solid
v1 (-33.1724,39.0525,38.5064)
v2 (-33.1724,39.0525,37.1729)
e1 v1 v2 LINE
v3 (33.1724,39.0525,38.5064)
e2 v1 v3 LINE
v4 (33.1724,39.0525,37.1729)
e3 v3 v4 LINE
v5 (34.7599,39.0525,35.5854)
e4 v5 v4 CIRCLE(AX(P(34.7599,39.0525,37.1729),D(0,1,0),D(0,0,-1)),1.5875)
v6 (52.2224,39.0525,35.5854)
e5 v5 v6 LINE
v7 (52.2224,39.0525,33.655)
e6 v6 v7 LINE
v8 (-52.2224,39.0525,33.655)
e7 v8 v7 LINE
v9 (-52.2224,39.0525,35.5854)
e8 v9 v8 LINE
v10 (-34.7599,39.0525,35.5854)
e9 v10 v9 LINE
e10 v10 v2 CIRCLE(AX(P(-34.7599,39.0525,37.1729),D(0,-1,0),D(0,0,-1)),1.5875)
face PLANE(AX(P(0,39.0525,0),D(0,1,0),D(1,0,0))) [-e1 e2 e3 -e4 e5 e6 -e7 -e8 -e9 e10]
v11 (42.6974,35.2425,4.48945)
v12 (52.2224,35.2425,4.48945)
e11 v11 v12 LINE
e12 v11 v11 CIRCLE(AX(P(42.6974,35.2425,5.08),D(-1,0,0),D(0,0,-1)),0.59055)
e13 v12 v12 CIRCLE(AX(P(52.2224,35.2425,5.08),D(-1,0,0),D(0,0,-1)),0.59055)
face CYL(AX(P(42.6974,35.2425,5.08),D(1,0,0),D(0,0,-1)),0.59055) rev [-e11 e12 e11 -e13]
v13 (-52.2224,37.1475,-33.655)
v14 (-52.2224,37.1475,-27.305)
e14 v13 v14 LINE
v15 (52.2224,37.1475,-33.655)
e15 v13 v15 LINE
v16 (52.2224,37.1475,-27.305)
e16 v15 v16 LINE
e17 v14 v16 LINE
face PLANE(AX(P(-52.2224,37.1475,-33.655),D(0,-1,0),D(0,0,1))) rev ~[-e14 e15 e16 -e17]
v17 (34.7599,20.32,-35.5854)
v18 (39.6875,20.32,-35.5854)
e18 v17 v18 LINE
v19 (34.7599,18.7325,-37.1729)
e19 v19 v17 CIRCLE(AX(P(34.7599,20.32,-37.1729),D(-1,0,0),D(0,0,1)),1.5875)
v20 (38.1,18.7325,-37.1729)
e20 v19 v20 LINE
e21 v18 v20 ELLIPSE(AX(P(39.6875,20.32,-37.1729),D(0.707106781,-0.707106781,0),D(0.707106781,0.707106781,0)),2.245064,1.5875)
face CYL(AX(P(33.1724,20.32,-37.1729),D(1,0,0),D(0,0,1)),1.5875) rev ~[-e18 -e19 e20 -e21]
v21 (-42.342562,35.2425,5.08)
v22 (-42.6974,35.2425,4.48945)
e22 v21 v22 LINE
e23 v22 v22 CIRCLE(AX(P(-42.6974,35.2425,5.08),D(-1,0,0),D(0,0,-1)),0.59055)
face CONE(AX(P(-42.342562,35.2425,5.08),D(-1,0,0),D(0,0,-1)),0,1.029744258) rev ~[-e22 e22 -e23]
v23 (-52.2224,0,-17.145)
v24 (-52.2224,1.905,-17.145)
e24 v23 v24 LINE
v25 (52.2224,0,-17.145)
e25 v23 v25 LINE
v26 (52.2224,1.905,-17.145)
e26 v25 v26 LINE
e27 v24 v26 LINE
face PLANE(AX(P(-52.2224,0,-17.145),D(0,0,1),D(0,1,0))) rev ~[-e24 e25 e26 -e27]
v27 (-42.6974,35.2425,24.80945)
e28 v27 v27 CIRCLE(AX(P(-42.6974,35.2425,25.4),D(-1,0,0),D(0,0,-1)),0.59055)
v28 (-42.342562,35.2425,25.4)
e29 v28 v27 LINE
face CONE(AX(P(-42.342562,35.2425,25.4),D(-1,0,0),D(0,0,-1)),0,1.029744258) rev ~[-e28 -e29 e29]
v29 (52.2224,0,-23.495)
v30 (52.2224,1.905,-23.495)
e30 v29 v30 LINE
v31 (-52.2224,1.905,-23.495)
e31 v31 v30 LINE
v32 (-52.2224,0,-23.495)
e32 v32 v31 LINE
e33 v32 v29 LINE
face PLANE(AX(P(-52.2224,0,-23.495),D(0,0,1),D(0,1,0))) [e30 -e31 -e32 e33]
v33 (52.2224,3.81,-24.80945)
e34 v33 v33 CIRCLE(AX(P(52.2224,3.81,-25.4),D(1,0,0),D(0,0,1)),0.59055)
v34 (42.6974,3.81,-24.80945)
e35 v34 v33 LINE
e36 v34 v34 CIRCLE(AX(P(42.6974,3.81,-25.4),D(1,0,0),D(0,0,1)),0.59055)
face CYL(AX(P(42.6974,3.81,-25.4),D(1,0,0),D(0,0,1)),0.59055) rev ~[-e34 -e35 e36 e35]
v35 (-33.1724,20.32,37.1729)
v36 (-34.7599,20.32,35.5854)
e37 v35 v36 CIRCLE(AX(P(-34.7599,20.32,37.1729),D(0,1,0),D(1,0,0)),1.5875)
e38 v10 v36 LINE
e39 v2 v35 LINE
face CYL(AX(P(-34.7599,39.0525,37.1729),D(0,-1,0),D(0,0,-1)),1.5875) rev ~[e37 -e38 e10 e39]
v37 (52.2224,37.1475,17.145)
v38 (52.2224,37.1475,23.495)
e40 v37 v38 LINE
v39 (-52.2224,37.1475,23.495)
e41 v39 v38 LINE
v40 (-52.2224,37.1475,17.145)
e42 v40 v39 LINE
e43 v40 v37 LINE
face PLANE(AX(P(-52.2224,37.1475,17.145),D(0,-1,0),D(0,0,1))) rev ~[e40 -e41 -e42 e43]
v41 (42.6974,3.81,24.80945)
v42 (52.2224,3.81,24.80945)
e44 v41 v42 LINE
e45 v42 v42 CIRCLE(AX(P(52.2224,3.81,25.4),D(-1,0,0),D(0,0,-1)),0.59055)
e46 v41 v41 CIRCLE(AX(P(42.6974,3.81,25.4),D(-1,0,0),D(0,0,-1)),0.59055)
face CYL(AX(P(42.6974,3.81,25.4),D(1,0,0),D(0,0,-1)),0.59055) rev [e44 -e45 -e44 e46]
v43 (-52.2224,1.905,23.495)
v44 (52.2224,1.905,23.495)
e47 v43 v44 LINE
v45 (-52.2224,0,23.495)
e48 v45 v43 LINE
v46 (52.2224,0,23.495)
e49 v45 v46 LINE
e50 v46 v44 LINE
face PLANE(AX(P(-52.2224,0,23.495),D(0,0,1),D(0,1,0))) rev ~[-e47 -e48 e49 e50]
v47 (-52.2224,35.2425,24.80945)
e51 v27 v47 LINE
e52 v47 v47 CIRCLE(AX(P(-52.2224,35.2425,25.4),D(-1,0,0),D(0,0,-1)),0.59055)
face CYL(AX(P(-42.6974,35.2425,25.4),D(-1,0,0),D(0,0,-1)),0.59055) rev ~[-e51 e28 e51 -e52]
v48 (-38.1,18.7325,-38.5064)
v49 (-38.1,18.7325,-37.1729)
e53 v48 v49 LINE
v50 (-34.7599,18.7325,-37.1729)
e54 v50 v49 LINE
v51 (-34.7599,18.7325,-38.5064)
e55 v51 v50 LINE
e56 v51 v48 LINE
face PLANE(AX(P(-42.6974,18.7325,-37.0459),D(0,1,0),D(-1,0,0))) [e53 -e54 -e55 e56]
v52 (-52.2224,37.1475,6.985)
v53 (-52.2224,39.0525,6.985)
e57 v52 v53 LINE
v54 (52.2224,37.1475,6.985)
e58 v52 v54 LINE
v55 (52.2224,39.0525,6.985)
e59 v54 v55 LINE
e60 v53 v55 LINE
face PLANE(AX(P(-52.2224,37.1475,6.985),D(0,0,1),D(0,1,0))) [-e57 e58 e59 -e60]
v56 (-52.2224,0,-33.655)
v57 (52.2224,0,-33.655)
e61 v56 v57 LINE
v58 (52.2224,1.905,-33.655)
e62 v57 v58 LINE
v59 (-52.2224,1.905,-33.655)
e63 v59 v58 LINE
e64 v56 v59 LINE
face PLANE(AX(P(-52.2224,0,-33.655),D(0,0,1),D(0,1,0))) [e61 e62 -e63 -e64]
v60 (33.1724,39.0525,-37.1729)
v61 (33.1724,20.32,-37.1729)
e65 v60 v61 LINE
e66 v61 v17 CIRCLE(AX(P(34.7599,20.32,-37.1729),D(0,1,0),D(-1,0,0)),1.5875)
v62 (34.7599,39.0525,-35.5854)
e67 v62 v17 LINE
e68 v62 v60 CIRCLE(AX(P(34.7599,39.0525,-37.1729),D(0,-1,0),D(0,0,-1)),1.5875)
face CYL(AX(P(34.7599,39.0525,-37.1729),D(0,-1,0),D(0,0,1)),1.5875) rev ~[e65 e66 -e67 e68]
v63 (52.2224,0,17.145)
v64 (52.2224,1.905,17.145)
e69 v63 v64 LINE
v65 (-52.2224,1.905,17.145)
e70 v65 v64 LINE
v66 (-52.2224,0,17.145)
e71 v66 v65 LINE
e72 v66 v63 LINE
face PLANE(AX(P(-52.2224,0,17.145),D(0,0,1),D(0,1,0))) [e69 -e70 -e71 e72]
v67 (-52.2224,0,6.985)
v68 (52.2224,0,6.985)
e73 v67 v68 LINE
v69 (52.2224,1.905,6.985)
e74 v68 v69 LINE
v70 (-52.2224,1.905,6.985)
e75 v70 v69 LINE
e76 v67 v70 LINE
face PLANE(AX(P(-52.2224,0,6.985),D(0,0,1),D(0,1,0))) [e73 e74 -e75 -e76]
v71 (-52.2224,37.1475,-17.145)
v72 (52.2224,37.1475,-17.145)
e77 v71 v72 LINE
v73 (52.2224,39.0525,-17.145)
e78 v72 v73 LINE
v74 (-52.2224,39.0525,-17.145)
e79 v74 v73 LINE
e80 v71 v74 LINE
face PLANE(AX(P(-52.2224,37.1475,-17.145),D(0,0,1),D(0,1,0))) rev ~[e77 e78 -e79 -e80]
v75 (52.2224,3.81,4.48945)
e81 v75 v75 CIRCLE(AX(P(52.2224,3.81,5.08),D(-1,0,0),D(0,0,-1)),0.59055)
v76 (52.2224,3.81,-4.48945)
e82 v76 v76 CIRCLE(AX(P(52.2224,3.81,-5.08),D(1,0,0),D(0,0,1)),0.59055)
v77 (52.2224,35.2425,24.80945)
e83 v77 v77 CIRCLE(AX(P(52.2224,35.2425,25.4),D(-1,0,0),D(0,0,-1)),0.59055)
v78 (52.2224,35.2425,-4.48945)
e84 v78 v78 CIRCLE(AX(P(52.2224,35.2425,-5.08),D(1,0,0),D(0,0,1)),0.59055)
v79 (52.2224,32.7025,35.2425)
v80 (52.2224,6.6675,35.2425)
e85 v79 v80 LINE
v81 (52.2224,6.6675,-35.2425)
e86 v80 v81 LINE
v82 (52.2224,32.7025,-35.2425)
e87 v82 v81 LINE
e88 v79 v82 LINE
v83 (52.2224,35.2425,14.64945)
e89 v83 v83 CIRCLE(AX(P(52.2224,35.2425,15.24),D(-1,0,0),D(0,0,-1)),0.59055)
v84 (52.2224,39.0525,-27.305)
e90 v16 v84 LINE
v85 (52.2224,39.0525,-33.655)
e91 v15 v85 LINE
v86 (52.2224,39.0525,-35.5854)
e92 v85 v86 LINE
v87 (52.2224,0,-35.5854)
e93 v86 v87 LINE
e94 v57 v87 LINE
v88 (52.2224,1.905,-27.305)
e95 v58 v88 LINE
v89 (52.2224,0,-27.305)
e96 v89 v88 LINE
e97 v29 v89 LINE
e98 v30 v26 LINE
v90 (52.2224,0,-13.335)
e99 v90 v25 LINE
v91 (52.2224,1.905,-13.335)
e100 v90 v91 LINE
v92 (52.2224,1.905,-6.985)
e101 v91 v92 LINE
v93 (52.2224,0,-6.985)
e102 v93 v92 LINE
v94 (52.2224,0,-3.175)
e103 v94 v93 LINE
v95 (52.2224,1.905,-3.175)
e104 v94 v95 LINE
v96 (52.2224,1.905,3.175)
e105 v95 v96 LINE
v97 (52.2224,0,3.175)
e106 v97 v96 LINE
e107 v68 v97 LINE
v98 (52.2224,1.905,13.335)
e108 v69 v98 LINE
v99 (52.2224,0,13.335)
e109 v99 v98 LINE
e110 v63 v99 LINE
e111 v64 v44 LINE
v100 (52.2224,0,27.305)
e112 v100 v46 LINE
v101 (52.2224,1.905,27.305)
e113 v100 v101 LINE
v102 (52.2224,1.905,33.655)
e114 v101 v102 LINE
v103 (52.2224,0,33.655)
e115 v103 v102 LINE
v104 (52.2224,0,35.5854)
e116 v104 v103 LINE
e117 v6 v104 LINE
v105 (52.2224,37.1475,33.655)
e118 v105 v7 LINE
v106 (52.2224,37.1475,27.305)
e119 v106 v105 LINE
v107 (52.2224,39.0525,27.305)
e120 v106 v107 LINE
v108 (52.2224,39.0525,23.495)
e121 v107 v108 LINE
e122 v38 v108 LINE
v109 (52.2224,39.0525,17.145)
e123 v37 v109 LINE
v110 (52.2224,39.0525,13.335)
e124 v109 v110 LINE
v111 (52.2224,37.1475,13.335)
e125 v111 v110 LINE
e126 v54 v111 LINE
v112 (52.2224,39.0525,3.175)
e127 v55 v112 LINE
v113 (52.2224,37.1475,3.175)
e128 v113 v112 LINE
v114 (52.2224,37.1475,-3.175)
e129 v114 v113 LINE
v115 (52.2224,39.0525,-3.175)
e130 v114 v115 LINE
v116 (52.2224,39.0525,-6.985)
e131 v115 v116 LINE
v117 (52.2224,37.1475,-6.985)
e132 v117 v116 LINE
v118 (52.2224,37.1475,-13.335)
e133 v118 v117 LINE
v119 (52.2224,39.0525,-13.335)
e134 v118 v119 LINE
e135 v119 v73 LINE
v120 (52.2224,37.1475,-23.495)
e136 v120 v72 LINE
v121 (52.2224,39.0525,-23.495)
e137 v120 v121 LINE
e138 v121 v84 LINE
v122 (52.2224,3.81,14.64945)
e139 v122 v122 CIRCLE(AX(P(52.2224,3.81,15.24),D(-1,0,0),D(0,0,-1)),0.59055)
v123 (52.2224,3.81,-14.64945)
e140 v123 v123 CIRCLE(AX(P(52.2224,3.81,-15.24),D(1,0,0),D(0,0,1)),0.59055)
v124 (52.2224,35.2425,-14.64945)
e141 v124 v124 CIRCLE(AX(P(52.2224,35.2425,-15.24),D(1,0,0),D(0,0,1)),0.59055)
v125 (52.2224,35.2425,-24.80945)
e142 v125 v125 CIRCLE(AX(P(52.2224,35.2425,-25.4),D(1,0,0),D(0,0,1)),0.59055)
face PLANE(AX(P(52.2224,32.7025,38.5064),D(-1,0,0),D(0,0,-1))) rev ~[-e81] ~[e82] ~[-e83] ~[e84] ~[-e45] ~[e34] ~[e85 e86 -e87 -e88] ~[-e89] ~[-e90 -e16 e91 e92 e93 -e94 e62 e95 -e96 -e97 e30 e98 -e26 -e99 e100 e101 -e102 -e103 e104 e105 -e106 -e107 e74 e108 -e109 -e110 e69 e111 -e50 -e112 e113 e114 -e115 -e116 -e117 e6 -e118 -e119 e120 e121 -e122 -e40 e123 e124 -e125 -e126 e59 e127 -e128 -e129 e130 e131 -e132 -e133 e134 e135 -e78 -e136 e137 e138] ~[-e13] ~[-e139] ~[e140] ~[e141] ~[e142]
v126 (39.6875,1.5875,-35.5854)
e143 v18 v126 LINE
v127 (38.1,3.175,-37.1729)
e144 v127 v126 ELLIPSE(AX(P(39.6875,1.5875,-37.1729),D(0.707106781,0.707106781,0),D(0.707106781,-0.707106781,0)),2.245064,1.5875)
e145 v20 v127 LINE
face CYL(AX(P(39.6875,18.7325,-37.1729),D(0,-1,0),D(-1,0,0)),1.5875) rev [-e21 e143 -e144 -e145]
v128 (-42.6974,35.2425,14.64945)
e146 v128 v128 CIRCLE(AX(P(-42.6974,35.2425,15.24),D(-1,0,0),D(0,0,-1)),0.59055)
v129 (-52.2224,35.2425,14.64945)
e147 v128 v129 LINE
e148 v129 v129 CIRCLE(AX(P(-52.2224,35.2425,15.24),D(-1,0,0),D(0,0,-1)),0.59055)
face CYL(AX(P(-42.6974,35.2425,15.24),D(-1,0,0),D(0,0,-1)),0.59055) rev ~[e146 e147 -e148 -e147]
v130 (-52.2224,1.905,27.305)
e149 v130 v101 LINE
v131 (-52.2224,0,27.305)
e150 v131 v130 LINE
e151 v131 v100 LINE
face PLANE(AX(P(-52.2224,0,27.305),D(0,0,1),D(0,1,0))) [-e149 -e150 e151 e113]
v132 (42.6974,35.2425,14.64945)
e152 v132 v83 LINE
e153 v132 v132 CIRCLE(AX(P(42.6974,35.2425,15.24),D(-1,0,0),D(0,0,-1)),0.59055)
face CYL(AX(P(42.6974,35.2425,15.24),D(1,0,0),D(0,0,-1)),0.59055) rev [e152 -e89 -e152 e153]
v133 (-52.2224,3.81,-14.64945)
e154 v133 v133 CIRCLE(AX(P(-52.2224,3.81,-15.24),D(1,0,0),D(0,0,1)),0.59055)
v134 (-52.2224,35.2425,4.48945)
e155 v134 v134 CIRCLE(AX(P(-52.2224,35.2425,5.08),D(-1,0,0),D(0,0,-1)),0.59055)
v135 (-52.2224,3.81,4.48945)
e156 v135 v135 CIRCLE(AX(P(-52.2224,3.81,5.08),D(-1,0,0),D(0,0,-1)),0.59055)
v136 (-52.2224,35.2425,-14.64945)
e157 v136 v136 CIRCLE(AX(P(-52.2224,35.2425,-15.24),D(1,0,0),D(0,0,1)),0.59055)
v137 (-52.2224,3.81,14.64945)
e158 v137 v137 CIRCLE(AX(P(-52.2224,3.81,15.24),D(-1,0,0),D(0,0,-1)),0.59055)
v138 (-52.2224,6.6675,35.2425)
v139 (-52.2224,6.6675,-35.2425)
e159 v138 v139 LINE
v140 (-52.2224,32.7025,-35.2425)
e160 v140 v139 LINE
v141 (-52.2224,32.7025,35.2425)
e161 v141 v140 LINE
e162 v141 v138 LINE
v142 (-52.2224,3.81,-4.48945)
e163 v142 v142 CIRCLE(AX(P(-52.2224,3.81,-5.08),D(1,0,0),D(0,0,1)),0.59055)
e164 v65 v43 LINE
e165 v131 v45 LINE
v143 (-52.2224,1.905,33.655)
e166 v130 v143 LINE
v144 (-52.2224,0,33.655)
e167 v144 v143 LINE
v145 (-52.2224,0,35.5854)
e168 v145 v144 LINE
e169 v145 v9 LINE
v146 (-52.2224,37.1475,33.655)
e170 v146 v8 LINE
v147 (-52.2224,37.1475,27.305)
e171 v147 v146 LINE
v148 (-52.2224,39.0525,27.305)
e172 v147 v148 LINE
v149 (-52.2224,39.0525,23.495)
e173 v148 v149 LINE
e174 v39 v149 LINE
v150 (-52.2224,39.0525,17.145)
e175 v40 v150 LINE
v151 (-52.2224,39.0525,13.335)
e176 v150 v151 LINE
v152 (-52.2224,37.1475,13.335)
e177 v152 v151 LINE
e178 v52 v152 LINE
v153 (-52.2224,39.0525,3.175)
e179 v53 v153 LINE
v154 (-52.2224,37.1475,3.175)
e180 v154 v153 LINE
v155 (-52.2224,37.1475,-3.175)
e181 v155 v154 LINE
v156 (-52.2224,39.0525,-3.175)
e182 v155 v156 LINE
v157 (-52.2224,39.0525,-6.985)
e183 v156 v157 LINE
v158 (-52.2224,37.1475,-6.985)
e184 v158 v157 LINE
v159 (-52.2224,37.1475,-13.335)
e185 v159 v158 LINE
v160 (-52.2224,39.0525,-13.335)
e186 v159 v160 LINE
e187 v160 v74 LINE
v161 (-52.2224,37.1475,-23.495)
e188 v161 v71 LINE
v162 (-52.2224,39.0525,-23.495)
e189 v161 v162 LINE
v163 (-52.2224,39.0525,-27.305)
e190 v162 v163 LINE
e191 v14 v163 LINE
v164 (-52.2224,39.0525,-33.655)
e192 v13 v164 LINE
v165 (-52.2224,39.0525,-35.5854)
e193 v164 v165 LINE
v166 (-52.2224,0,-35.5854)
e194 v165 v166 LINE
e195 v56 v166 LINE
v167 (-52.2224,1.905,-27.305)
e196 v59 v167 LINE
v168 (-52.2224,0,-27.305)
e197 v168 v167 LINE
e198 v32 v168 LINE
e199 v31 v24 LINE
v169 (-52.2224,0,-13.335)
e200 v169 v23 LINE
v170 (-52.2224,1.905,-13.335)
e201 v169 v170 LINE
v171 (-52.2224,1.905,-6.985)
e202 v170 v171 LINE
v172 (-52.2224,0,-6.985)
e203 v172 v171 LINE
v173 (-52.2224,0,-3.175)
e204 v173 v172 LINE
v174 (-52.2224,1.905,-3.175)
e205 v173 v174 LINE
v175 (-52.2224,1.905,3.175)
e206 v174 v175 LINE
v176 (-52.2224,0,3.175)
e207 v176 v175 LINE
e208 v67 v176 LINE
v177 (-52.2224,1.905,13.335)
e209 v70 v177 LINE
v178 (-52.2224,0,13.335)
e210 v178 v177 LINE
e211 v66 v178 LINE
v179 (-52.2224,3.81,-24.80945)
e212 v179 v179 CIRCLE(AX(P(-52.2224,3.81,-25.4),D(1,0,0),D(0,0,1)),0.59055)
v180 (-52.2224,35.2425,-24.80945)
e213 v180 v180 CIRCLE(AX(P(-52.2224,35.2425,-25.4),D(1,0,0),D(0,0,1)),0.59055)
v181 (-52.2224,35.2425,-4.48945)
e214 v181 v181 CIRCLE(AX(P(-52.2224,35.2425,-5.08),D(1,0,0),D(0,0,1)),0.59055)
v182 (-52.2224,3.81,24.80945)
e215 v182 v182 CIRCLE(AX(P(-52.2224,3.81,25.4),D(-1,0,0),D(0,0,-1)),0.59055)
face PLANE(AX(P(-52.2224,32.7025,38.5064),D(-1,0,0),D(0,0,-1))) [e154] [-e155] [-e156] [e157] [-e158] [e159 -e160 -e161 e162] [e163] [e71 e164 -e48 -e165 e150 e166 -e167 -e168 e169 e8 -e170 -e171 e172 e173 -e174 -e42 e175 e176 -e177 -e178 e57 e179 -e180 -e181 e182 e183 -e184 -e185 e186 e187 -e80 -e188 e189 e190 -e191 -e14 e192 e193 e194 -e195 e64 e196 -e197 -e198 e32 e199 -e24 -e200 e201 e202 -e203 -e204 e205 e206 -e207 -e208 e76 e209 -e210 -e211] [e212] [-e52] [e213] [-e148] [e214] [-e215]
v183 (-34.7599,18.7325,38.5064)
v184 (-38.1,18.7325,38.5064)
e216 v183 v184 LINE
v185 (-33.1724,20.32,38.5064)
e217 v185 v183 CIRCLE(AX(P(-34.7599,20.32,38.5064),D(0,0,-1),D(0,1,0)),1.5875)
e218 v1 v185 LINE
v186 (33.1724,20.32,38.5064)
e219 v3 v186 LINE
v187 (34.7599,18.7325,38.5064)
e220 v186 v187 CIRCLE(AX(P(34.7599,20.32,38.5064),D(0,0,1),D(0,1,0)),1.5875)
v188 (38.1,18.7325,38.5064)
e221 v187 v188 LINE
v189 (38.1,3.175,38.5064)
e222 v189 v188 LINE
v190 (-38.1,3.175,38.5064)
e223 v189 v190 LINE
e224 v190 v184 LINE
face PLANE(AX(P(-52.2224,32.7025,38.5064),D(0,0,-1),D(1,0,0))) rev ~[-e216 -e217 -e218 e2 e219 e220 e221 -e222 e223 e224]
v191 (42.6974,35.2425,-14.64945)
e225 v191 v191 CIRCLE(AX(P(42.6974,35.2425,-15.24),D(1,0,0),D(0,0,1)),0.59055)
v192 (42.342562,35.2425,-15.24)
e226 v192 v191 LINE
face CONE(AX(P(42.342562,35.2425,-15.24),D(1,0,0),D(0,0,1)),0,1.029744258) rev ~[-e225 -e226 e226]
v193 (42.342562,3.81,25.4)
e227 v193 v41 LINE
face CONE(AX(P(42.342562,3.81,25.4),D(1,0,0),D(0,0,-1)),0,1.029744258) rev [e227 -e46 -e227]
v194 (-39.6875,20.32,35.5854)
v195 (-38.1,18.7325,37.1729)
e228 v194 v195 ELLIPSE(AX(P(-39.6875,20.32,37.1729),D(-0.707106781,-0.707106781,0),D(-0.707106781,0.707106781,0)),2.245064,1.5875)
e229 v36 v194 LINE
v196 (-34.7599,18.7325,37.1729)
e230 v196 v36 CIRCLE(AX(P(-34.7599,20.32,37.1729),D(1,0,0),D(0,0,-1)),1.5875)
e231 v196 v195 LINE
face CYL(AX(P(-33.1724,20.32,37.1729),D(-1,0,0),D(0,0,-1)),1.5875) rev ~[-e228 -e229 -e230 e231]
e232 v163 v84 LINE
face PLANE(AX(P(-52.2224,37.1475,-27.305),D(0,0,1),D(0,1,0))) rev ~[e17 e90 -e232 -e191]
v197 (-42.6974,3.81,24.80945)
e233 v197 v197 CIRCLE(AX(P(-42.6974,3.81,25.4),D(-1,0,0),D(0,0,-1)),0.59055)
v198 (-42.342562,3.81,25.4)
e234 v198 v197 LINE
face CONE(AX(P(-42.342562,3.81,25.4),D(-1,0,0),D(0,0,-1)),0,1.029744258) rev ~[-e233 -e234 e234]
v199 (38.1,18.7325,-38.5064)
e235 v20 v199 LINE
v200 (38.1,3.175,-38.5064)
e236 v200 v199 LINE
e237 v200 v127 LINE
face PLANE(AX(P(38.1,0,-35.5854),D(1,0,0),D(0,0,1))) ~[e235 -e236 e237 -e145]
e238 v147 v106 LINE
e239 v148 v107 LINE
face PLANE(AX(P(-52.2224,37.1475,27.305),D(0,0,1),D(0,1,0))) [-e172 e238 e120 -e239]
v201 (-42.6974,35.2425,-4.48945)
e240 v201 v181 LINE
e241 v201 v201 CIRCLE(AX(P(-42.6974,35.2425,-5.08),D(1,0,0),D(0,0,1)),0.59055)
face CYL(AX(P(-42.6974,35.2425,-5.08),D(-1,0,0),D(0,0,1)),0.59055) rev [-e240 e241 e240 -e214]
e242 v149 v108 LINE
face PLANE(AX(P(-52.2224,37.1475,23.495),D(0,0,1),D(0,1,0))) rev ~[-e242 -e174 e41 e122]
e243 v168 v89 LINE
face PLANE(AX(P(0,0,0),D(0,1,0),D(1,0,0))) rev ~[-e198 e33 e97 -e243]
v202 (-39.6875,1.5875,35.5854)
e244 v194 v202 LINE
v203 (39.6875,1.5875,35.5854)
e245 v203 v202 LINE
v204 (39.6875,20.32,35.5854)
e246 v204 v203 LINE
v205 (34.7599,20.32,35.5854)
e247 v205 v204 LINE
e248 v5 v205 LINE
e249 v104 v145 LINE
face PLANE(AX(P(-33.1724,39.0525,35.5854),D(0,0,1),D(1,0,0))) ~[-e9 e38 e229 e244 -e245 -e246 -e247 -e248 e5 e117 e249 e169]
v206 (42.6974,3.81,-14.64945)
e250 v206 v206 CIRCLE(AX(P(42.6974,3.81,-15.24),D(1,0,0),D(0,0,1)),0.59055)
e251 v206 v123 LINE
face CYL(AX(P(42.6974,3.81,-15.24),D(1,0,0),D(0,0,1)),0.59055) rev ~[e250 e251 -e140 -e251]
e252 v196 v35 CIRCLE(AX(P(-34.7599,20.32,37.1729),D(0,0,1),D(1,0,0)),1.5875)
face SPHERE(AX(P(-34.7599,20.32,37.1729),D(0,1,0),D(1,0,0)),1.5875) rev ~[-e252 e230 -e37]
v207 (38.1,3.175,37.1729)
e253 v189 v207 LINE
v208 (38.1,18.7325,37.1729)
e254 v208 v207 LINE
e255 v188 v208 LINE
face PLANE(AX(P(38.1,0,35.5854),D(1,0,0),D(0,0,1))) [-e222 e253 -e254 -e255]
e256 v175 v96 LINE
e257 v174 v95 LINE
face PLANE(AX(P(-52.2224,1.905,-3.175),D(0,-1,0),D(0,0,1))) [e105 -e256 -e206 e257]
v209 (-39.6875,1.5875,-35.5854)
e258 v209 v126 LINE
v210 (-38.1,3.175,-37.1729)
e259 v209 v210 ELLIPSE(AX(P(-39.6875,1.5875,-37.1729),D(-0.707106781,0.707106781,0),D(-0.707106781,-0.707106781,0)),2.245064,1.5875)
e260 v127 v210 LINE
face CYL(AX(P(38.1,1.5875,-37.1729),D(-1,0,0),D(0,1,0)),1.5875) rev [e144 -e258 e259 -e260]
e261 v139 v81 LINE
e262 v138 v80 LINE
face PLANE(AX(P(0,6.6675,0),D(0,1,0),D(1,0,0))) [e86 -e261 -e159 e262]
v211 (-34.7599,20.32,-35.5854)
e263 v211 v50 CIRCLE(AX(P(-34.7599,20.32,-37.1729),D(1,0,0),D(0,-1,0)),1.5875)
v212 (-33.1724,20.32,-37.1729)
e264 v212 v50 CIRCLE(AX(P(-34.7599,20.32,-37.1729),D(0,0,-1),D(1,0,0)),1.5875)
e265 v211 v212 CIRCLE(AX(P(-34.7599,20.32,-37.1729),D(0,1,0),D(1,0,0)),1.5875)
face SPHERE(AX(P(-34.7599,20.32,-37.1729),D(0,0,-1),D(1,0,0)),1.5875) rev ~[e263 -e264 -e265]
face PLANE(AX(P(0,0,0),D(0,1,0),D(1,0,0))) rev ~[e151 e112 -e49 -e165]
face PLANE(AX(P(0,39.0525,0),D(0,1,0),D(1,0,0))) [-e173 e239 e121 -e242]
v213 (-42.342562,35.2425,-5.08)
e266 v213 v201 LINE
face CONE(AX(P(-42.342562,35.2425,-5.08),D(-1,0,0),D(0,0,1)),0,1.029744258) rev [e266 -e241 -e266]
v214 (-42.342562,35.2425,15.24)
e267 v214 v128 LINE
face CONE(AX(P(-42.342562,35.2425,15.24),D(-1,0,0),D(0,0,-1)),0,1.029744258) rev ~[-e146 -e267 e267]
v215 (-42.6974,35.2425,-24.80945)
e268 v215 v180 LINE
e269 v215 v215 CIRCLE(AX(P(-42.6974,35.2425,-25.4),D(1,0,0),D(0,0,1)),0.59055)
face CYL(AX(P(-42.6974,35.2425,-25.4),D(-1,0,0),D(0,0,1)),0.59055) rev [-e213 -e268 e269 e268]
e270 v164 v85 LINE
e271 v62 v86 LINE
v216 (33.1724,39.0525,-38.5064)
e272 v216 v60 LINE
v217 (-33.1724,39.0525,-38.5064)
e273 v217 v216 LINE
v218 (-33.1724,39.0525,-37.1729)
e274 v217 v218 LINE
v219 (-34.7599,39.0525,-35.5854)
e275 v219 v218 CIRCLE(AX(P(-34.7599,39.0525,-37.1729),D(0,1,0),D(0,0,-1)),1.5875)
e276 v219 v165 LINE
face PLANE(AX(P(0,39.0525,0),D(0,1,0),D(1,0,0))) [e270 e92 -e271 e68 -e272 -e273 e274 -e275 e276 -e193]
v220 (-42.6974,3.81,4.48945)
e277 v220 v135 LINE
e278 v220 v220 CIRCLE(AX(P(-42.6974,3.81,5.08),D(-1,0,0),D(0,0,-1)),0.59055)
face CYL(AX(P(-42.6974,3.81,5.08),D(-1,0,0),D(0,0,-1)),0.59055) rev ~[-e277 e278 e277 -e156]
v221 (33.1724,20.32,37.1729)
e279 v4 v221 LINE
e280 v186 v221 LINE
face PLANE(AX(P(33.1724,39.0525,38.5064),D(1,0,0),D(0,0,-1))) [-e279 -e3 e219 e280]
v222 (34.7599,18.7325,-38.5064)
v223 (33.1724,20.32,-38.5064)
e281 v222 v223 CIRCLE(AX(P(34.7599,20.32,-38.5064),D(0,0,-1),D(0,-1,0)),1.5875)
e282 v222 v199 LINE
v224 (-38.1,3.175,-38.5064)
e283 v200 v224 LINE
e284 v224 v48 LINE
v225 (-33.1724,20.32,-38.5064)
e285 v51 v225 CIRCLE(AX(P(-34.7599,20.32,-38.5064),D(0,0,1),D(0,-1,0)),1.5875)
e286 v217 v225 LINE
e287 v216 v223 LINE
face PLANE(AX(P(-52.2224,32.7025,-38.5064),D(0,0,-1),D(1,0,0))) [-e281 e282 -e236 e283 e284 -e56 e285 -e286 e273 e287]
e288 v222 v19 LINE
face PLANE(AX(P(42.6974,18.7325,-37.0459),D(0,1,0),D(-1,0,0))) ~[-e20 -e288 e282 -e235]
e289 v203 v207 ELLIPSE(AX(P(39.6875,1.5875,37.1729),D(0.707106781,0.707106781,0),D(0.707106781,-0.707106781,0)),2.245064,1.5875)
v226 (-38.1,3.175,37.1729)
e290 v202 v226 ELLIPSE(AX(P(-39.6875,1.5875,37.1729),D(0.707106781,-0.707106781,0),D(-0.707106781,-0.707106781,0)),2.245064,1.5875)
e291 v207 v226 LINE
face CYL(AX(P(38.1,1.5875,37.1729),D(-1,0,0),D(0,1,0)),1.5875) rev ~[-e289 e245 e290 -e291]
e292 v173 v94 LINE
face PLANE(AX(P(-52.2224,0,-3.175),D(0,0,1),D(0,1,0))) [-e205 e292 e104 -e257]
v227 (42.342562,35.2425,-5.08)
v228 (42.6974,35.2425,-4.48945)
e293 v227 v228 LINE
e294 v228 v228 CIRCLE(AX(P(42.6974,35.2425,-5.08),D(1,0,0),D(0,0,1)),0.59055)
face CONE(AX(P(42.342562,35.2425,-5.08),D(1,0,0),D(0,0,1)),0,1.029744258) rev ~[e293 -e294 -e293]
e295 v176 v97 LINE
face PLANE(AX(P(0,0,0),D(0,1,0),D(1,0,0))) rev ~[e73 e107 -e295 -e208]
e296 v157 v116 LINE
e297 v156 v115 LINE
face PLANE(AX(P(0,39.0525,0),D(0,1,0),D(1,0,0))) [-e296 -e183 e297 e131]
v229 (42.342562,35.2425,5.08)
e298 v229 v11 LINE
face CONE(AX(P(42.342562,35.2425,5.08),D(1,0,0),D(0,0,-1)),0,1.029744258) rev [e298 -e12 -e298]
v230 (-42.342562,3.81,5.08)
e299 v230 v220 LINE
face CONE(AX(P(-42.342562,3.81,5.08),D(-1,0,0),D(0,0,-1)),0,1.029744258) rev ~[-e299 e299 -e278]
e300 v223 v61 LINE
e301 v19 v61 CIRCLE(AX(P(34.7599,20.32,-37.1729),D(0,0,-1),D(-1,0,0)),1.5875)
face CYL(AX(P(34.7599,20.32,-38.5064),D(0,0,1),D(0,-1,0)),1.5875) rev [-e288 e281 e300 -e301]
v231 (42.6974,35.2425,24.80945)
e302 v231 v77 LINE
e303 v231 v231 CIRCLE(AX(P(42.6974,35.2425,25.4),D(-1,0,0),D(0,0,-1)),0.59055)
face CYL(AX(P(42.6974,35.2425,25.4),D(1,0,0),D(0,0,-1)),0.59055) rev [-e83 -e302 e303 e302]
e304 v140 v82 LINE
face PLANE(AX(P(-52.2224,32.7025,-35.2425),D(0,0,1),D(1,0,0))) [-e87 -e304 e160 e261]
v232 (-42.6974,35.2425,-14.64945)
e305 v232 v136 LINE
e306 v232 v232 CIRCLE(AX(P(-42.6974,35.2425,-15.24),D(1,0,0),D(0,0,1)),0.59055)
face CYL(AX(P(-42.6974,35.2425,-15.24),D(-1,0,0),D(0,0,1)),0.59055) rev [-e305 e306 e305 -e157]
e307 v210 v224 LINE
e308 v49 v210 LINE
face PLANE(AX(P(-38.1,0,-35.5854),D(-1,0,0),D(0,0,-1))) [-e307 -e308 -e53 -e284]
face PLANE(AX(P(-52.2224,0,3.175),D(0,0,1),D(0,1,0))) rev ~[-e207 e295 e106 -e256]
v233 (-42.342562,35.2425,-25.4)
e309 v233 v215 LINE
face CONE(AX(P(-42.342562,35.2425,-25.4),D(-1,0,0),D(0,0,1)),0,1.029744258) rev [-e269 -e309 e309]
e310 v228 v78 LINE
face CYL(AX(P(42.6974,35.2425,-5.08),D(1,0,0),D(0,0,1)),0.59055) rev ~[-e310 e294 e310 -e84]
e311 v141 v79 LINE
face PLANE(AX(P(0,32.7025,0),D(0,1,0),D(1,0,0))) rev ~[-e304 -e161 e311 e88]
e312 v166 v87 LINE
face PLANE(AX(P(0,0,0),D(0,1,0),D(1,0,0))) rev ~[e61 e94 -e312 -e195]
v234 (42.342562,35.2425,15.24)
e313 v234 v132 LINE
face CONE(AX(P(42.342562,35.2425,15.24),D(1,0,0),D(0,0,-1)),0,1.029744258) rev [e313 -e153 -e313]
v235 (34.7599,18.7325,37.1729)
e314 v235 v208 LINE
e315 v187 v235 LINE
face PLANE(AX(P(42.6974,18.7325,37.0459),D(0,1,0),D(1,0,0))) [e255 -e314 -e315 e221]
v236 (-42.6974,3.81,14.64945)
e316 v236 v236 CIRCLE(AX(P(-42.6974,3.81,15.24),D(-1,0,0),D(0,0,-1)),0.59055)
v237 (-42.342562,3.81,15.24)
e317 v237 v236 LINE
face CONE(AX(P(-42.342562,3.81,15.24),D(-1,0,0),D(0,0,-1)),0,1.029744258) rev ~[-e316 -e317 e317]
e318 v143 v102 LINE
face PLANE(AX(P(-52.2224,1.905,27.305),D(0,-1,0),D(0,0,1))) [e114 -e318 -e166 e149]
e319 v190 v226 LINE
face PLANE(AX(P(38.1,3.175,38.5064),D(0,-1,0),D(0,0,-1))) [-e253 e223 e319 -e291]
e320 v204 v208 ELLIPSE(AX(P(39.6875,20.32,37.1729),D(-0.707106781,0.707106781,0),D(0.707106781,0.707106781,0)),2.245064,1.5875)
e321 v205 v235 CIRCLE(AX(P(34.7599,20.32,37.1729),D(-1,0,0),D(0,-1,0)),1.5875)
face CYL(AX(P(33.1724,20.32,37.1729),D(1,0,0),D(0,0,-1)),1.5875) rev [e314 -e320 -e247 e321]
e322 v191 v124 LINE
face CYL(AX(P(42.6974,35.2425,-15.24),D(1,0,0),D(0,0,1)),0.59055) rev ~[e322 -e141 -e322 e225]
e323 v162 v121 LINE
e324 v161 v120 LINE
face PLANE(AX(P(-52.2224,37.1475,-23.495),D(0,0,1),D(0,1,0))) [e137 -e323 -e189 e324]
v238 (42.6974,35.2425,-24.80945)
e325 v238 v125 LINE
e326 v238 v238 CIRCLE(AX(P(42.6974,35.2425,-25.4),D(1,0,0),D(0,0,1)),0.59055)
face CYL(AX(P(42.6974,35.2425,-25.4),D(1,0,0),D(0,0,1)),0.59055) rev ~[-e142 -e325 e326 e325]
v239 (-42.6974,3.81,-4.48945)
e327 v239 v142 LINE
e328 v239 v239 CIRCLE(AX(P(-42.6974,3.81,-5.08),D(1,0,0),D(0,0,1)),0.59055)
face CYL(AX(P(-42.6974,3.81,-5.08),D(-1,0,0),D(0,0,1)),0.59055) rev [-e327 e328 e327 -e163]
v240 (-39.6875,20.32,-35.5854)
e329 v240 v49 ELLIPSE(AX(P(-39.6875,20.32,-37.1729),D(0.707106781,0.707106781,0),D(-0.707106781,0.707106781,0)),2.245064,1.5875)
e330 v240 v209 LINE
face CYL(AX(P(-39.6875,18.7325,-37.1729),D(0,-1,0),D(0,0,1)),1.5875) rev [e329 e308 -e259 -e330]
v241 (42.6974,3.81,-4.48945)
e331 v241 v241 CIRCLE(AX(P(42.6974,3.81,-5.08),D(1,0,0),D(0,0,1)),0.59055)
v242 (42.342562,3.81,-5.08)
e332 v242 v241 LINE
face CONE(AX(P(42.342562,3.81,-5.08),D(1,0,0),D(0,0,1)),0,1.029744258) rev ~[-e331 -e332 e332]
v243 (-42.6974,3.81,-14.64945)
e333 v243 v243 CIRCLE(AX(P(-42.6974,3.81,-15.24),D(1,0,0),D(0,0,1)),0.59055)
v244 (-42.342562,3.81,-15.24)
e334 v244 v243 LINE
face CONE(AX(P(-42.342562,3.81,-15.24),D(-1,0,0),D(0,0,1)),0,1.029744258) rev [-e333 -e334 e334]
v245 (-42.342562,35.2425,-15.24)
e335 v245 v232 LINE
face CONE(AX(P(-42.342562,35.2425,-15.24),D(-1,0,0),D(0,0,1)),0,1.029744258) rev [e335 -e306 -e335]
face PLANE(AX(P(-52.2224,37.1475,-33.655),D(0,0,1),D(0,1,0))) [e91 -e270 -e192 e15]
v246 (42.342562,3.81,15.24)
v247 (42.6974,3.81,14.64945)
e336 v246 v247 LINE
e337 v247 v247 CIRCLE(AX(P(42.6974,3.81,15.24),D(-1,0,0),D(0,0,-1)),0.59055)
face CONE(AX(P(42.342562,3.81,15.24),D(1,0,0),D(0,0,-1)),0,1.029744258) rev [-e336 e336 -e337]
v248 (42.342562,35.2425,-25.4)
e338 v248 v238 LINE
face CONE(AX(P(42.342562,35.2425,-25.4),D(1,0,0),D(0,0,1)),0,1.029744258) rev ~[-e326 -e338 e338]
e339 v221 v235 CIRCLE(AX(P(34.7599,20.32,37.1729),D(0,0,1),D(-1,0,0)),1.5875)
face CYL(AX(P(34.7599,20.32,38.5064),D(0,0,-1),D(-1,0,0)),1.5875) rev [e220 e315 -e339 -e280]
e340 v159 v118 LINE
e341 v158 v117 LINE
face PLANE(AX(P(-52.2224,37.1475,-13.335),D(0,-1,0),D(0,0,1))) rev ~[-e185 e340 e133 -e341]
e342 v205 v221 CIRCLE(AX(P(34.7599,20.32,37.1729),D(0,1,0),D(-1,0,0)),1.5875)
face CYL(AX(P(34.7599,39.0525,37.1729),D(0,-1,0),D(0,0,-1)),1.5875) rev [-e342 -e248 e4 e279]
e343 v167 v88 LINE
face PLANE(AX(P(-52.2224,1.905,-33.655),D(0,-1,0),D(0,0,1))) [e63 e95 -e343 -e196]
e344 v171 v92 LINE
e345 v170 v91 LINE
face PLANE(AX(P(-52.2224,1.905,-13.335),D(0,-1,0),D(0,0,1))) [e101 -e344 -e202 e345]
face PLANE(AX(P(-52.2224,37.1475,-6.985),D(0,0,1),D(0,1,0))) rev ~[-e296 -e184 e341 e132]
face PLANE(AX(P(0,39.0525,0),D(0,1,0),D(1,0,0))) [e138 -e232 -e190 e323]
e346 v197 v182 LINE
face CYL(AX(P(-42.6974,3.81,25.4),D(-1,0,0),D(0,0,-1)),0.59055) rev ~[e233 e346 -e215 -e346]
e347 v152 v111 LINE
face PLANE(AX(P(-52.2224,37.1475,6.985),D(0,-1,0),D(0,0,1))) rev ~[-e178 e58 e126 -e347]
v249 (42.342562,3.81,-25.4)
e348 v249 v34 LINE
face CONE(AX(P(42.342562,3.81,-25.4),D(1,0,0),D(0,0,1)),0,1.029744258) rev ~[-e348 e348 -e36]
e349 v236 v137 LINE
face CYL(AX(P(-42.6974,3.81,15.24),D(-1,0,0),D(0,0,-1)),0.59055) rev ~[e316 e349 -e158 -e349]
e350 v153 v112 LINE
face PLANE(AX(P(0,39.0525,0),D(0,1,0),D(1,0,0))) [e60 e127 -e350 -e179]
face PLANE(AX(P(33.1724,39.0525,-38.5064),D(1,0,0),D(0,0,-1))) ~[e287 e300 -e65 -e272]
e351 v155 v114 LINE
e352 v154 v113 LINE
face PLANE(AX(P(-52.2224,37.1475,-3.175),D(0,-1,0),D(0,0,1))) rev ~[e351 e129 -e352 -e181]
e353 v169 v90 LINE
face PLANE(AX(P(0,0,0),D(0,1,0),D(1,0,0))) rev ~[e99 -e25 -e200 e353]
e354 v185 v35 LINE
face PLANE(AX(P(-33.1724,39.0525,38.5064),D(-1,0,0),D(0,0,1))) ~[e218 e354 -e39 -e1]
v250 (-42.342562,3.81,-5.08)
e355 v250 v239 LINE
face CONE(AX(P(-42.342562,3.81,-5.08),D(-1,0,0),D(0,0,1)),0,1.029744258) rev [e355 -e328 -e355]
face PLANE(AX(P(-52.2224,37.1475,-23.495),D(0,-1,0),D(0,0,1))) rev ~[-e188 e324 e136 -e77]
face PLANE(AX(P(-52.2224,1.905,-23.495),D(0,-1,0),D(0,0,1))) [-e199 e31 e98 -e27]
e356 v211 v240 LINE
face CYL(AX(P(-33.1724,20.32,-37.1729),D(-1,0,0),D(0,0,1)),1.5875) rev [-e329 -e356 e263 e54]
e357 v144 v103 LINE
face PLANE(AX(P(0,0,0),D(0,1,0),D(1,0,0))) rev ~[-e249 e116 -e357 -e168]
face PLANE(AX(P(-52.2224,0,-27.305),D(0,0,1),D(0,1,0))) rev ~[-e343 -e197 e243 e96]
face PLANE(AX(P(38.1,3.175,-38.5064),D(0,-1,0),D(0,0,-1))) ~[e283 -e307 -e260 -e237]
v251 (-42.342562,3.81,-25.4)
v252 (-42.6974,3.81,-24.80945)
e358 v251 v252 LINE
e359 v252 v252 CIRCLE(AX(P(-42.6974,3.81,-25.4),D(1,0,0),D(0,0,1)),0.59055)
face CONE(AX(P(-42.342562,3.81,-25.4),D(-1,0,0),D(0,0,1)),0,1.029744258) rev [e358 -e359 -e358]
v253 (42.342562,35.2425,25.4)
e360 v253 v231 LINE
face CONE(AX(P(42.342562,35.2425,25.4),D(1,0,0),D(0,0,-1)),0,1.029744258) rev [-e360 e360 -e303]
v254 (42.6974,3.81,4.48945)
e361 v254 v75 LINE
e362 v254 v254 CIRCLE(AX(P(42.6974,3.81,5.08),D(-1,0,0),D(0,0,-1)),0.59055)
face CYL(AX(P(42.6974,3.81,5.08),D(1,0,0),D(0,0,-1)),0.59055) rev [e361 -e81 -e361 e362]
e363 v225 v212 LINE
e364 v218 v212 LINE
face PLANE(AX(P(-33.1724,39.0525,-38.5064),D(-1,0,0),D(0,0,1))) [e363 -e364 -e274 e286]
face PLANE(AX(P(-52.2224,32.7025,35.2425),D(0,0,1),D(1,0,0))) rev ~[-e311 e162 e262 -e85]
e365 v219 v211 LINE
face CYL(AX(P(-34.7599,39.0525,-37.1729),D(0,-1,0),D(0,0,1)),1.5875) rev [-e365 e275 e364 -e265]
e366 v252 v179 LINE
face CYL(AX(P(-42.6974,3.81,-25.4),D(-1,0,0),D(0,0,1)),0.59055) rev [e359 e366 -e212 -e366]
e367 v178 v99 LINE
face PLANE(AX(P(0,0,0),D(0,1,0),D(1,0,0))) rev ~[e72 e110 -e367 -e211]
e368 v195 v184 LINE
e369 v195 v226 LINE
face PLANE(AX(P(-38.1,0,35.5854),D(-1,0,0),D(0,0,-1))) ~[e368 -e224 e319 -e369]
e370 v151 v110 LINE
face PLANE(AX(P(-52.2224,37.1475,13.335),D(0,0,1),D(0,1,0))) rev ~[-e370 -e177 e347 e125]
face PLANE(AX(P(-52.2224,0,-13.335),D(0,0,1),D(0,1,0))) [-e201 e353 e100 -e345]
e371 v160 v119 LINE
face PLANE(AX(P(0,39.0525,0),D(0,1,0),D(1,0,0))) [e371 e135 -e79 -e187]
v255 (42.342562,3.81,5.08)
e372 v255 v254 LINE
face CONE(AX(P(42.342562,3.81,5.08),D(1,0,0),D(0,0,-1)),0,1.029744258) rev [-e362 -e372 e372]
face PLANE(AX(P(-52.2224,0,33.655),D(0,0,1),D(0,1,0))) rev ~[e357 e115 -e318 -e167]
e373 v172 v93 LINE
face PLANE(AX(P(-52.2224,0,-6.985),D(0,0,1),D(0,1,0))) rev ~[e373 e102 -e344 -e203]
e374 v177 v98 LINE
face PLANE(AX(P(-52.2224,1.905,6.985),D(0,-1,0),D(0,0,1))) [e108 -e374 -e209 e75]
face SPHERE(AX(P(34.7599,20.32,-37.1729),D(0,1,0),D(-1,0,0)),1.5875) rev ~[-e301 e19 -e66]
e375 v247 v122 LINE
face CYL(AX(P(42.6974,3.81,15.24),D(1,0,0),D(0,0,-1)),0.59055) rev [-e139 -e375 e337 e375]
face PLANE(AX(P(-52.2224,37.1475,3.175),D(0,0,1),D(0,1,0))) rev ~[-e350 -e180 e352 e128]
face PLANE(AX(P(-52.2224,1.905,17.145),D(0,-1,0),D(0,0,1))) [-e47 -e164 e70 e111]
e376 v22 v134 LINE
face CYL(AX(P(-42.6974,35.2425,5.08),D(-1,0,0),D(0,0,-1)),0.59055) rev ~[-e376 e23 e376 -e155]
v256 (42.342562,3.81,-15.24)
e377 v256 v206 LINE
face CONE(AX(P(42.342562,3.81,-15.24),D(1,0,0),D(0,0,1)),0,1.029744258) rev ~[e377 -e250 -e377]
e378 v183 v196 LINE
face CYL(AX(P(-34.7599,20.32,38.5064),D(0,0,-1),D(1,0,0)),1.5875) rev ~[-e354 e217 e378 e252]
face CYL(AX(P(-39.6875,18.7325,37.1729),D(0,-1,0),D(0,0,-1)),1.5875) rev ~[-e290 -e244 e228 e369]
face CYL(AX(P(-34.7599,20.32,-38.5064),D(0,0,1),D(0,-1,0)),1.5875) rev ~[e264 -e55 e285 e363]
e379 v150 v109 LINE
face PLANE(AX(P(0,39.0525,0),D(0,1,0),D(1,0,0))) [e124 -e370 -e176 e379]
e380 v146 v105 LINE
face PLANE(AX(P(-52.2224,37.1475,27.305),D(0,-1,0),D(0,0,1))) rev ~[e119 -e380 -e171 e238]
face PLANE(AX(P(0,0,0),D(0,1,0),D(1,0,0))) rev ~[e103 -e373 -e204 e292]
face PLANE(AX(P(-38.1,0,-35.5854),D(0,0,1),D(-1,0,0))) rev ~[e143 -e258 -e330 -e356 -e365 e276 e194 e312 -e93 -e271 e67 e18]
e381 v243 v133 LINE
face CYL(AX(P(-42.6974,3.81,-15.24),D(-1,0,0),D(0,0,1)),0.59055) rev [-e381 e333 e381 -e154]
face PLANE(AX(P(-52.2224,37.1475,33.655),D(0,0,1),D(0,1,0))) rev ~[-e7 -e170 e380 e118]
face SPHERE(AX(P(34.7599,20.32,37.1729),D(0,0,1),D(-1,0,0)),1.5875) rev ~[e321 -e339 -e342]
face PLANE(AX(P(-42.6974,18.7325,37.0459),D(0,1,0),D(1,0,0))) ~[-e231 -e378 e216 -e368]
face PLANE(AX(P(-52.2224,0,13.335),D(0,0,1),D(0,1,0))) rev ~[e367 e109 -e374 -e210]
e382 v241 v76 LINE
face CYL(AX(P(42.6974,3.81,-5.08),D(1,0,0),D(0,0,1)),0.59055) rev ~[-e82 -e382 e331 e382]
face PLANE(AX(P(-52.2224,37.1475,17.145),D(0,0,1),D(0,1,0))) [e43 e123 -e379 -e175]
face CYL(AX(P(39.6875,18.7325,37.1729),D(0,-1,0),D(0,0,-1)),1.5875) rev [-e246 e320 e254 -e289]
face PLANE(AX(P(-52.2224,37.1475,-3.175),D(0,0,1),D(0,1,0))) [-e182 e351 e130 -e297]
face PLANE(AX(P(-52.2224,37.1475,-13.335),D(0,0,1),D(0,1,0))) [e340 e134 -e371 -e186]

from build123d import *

# Parameters (mm, degrees)
SKETCH1_W                             = 104.4448
SKETCH1_H                             = 77.0128
BOSS_EXTRUDE1_DEPTH                   = 32.7025
SKETCH2_W                             = 104.4448
SKETCH2_H                             = 70.485
CUT_EXTRUDE1_DEPTH                    = 26.035
SKETCH3_W                             = 104.4448
SKETCH3_H                             = 77.0128
BOSS_EXTRUDE2_DEPTH                   = 6.35
SKETCH4_W                             = 19.05
SKETCH4_H                             = 2.921
CUT_EXTRUDE2_DEPTH                    = 20.32
SKETCH6_W                             = 14.1224
SKETCH6_H                             = 2.921
CUT_EXTRUDE3_DEPTH                    = 22.225
MIRROR2_COPY_1_SKETCH_W               = 19.05
MIRROR2_COPY_1_SKETCH_H               = 2.921
MIRROR2_COPY_1_DEPTH                  = 20.32
MIRROR2_COPY_2_SKETCH_W               = 14.1224
MIRROR2_COPY_2_SKETCH_H               = 2.921
MIRROR2_COPY_2_DEPTH                  = 22.225
SKETCH15_W                            = 2.921
SKETCH15_H                            = 3.175
CUT_EXTRUDE5_DEPTH                    = 106.669184434
FILLET2_R                             = 1.5875
FILLET2_OF_MIRROR6_R                  = 1.5875
F_56_0_0465_DIAMETER_HOLE1_AT_2_COUNT = 2
F_56_0_0465_DIAMETER_HOLE1_AT_2_PITCH = 10.16
F_56_0_0465_DIAMETER_HOLE1_AT_3_COUNT = 2
F_56_0_0465_DIAMETER_HOLE1_AT_3_PITCH = 20.32
F_56_0_0465_DIAMETER_HOLE1_AT_4_COUNT = 2
F_56_0_0465_DIAMETER_HOLE1_AT_4_PITCH = 37.428658221
F_56_0_0465_DIAMETER_HOLE1_AT_5_COUNT = 2
F_56_0_0465_DIAMETER_HOLE1_AT_5_PITCH = 33.033735124
F_56_0_0465_DIAMETER_HOLE1_AT_6_COUNT = 2
F_56_0_0465_DIAMETER_HOLE1_AT_6_PITCH = 31.4325
FILLET1_R                             = 1.5875
SKETCH13_W                            = 6.35
SKETCH13_H                            = 1.905
CUT_EXTRUDE4_DEPTH                    = 118.968456989
LPATTERN1_COUNT                       = 4
LPATTERN1_PITCH                       = 10.16
LPATTERN1_COL_COUNT                   = 4
LPATTERN1_COL_PITCH                   = 10.16


with BuildPart() as part:
    # Sketch1 → Boss-Extrude1 (new body)
    with BuildSketch(Plane(origin=(0, 0, 0), x_dir=(1, 0, 0), z_dir=(0, 1, 0))):
        Rectangle(SKETCH1_W, SKETCH1_H)
    extrude(amount=BOSS_EXTRUDE1_DEPTH)

    # Sketch2 → Cut-Extrude1 (cut)
    with BuildSketch(Plane(origin=(0, 32.7025, 0), x_dir=(1, 0, 0), z_dir=(0, 1, 0))):
        Rectangle(SKETCH2_W, SKETCH2_H)
    extrude(amount=-CUT_EXTRUDE1_DEPTH, mode=Mode.SUBTRACT)

    # Sketch3 → Boss-Extrude2 (add)
    with BuildSketch(Plane(origin=(0, 32.7025, 0), x_dir=(1, 0, 0), z_dir=(0, 1, 0))):
        Rectangle(SKETCH3_W, SKETCH3_H)
    extrude(amount=BOSS_EXTRUDE2_DEPTH)

    # Sketch4 → Cut-Extrude2 (cut)
    with BuildSketch(Plane(origin=(0, 39.0525, 0), x_dir=(1, 0, 0), z_dir=(0, 1, 0))):
        with Locations((42.6974, -37.0459)):
            Rectangle(SKETCH4_W, SKETCH4_H)
    cut_extrude2 = extrude(amount=-CUT_EXTRUDE2_DEPTH, mode=Mode.SUBTRACT)

    # Sketch6 → Cut-Extrude3 (cut)
    with BuildSketch(Plane.XZ):
        with Locations((45.1612, 37.0459)):
            Rectangle(SKETCH6_W, SKETCH6_H)
    cut_extrude3 = extrude(amount=-CUT_EXTRUDE3_DEPTH, mode=Mode.SUBTRACT)

    # Mirror1: Cut-Extrude2, Cut-Extrude3 across plane
    add(cut_extrude2.mirror(Plane.XY), mode=Mode.SUBTRACT)
    add(cut_extrude3.mirror(Plane.XY), mode=Mode.SUBTRACT)

    # Mirror2: Cut-Extrude2, Cut-Extrude3 across plane
    add(cut_extrude2.mirror(Plane(origin=(0, 0, 0), x_dir=(0, 0, 1), z_dir=(1, 0, 0))), mode=Mode.SUBTRACT)
    add(cut_extrude3.mirror(Plane(origin=(0, 0, 0), x_dir=(0, 0, 1), z_dir=(1, 0, 0))), mode=Mode.SUBTRACT)

    # Mirror2 copy 1 sketch → Mirror2 copy 1 (cut)
    with BuildSketch(Plane(origin=(0, 39.0525, 0), x_dir=(-1, 0, 0), z_dir=(0, 1, 0))):
        with Locations((42.6974, -37.0459)):
            Rectangle(MIRROR2_COPY_1_SKETCH_W, MIRROR2_COPY_1_SKETCH_H)
    extrude(amount=-MIRROR2_COPY_1_DEPTH, mode=Mode.SUBTRACT)

    # Mirror2 copy 2 sketch → Mirror2 copy 2 (cut)
    with BuildSketch(Plane(origin=(0, 0, 0), x_dir=(-1, 0, 0), z_dir=(0, -1, 0))):
        with Locations((45.1612, 37.0459)):
            Rectangle(MIRROR2_COPY_2_SKETCH_W, MIRROR2_COPY_2_SKETCH_H)
    extrude(amount=-MIRROR2_COPY_2_DEPTH, mode=Mode.SUBTRACT)

    # Sketch15 → Cut-Extrude5 (cut, through all)
    with BuildSketch(Plane(origin=(38.1, 0, 0), x_dir=(0, 0, -1), z_dir=(1, 0, 0))):
        with Locations((-37.0459, 1.5875)):
            Rectangle(SKETCH15_W, SKETCH15_H)
    cut_extrude5 = extrude(amount=-CUT_EXTRUDE5_DEPTH, mode=Mode.SUBTRACT)

    # Fillet2
    fillet2_edges = [part.edges().sort_by_distance(p)[0] for p in [
        (0, 3.175, 35.5854),
    ]]
    fillet(fillet2_edges, radius=FILLET2_R)

    # Mirror6: Cut-Extrude5 across plane
    add(cut_extrude5.mirror(Plane.XY), mode=Mode.SUBTRACT)

    # Fillet2 of Mirror6
    fillet2_of_mirror6_edges = [part.edges().sort_by_distance(p)[0] for p in [
        (0, 3.175, -35.5854),
    ]]
    fillet(fillet2_of_mirror6_edges, radius=FILLET2_OF_MIRROR6_R)

    # Sketch11 → #56 (0.0465) Diameter Hole1 (revolve, cut)
    with BuildSketch(Plane(origin=(-52.2224, 35.2425, -5.08), x_dir=(0, 0, 1), z_dir=(0, 1, 0))):
        Polygon((0, 0), (0, 9.879838239), (0.59055, 9.525), (0.59055, 0), align=None)
    f_56_0_0465_diameter_hole1 = revolve(axis=Axis((-58.5724, 35.2425, -5.08), (1, 0, 0)), mode=Mode.SUBTRACT)

    # #56 (0.0465) Diameter Hole1 at 2: #56 (0.0465) Diameter Hole1 ×2
    with Locations(*[(0, 0, -i * F_56_0_0465_DIAMETER_HOLE1_AT_2_PITCH) for i in range(1, F_56_0_0465_DIAMETER_HOLE1_AT_2_COUNT)]):
        add(f_56_0_0465_diameter_hole1, mode=Mode.SUBTRACT)

    # #56 (0.0465) Diameter Hole1 at 3: #56 (0.0465) Diameter Hole1 ×2
    with Locations(*[(0, 0, -i * F_56_0_0465_DIAMETER_HOLE1_AT_3_PITCH) for i in range(1, F_56_0_0465_DIAMETER_HOLE1_AT_3_COUNT)]):
        add(f_56_0_0465_diameter_hole1, mode=Mode.SUBTRACT)

    # #56 (0.0465) Diameter Hole1 at 4: #56 (0.0465) Diameter Hole1 ×2
    with Locations(*[Vector(0, -0.8397976709215131, -0.5428995044341098) * (i * F_56_0_0465_DIAMETER_HOLE1_AT_4_PITCH) for i in range(1, F_56_0_0465_DIAMETER_HOLE1_AT_4_COUNT)]):
        add(f_56_0_0465_diameter_hole1, mode=Mode.SUBTRACT)

    # #56 (0.0465) Diameter Hole1 at 5: #56 (0.0465) Diameter Hole1 ×2
    with Locations(*[Vector(0, -0.9515272760377812, -0.3075643720526165) * (i * F_56_0_0465_DIAMETER_HOLE1_AT_5_PITCH) for i in range(1, F_56_0_0465_DIAMETER_HOLE1_AT_5_COUNT)]):
        add(f_56_0_0465_diameter_hole1, mode=Mode.SUBTRACT)

    # #56 (0.0465) Diameter Hole1 at 6: #56 (0.0465) Diameter Hole1 ×2
    with Locations(*[(0, -i * F_56_0_0465_DIAMETER_HOLE1_AT_6_PITCH, 0) for i in range(1, F_56_0_0465_DIAMETER_HOLE1_AT_6_COUNT)]):
        add(f_56_0_0465_diameter_hole1, mode=Mode.SUBTRACT)

    # Mirror4: #56 (0.0465) Diameter Hole1 across plane
    add(f_56_0_0465_diameter_hole1.mirror(Plane.XY), mode=Mode.SUBTRACT)

    # Mirror4 copy 1 sketch → Mirror4 copy 1 (revolve, cut)
    with BuildSketch(Plane(origin=(-52.2224, 35.2425, 15.24), x_dir=(0, 0, -1), z_dir=(0, 1, 0))):
        Polygon((0, 0), (0, -9.879838239), (0.59055, -9.525), (0.59055, 0), align=None)
    revolve(axis=Axis((-58.5724, 35.2425, 15.24), (-1, 0, 0)), mode=Mode.SUBTRACT)

    # Mirror4 copy 2 sketch → Mirror4 copy 2 (revolve, cut)
    with BuildSketch(Plane(origin=(-52.2224, 35.2425, 25.4), x_dir=(0, 0, -1), z_dir=(0, 1, 0))):
        Polygon((0, 0), (0, -9.879838239), (0.59055, -9.525), (0.59055, 0), align=None)
    revolve(axis=Axis((-58.5724, 35.2425, 25.4), (-1, 0, 0)), mode=Mode.SUBTRACT)

    # Mirror4 copy 3 sketch → Mirror4 copy 3 (revolve, cut)
    with BuildSketch(Plane(origin=(-52.2224, 3.81, 25.4), x_dir=(0, 0, -1), z_dir=(0, 1, 0))):
        Polygon((0, 0), (0, -9.879838239), (0.59055, -9.525), (0.59055, 0), align=None)
    revolve(axis=Axis((-58.5724, 3.81, 25.4), (-1, 0, 0)), mode=Mode.SUBTRACT)

    # Mirror4 copy 4 sketch → Mirror4 copy 4 (revolve, cut)
    with BuildSketch(Plane(origin=(-52.2224, 3.81, 15.24), x_dir=(0, 0, -1), z_dir=(0, 1, 0))):
        Polygon((0, 0), (0, -9.879838239), (0.59055, -9.525), (0.59055, 0), align=None)
    revolve(axis=Axis((-58.5724, 3.81, 15.24), (-1, 0, 0)), mode=Mode.SUBTRACT)

    # Mirror4 copy 5 sketch → Mirror4 copy 5 (revolve, cut)
    with BuildSketch(Plane(origin=(-52.2224, 3.81, 5.08), x_dir=(0, 0, -1), z_dir=(0, 1, 0))):
        Polygon((0, 0), (0, -9.879838239), (0.59055, -9.525), (0.59055, 0), align=None)
    revolve(axis=Axis((-58.5724, 3.81, 5.08), (-1, 0, 0)), mode=Mode.SUBTRACT)

    # Mirror5: #56 (0.0465) Diameter Hole1 across plane
    add(f_56_0_0465_diameter_hole1.mirror(Plane(origin=(0, 0, 0), x_dir=(0, 0, 1), z_dir=(1, 0, 0))), mode=Mode.SUBTRACT)

    # Mirror5 copy 1 sketch → Mirror5 copy 1 (revolve, cut)
    with BuildSketch(Plane(origin=(52.2224, 35.2425, -15.24), x_dir=(0, 0, 1), z_dir=(0, 1, 0))):
        Polygon((0, 0), (0, -9.879838239), (0.59055, -9.525), (0.59055, 0), align=None)
    revolve(axis=Axis((58.5724, 35.2425, -15.24), (1, 0, 0)), mode=Mode.SUBTRACT)

    # Mirror5 copy 2 sketch → Mirror5 copy 2 (revolve, cut)
    with BuildSketch(Plane(origin=(52.2224, 35.2425, -25.4), x_dir=(0, 0, 1), z_dir=(0, 1, 0))):
        Polygon((0, 0), (0, -9.879838239), (0.59055, -9.525), (0.59055, 0), align=None)
    revolve(axis=Axis((58.5724, 35.2425, -25.4), (1, 0, 0)), mode=Mode.SUBTRACT)

    # Mirror5 copy 3 sketch → Mirror5 copy 3 (revolve, cut)
    with BuildSketch(Plane(origin=(52.2224, 3.81, -25.4), x_dir=(0, 0, 1), z_dir=(0, 1, 0))):
        Polygon((0, 0), (0, -9.879838239), (0.59055, -9.525), (0.59055, 0), align=None)
    revolve(axis=Axis((58.5724, 3.81, -25.4), (1, 0, 0)), mode=Mode.SUBTRACT)

    # Mirror5 copy 4 sketch → Mirror5 copy 4 (revolve, cut)
    with BuildSketch(Plane(origin=(52.2224, 3.81, -15.24), x_dir=(0, 0, 1), z_dir=(0, 1, 0))):
        Polygon((0, 0), (0, -9.879838239), (0.59055, -9.525), (0.59055, 0), align=None)
    revolve(axis=Axis((58.5724, 3.81, -15.24), (1, 0, 0)), mode=Mode.SUBTRACT)

    # Mirror5 copy 5 sketch → Mirror5 copy 5 (revolve, cut)
    with BuildSketch(Plane(origin=(52.2224, 3.81, -5.08), x_dir=(0, 0, 1), z_dir=(0, 1, 0))):
        Polygon((0, 0), (0, -9.879838239), (0.59055, -9.525), (0.59055, 0), align=None)
    revolve(axis=Axis((58.5724, 3.81, -5.08), (1, 0, 0)), mode=Mode.SUBTRACT)

    # Mirror5 copy 6 sketch → Mirror5 copy 6 (revolve, cut)
    with BuildSketch(Plane(origin=(52.2224, 35.2425, 5.08), x_dir=(0, 0, -1), z_dir=(0, 1, 0))):
        Polygon((0, 0), (0, 9.879838239), (0.59055, 9.525), (0.59055, 0), align=None)
    revolve(axis=Axis((58.5724, 35.2425, 5.08), (-1, 0, 0)), mode=Mode.SUBTRACT)

    # Mirror5 copy 7 sketch → Mirror5 copy 7 (revolve, cut)
    with BuildSketch(Plane(origin=(52.2224, 35.2425, 15.24), x_dir=(0, 0, -1), z_dir=(0, 1, 0))):
        Polygon((0, 0), (0, 9.879838239), (0.59055, 9.525), (0.59055, 0), align=None)
    revolve(axis=Axis((58.5724, 35.2425, 15.24), (-1, 0, 0)), mode=Mode.SUBTRACT)

    # Mirror5 copy 8 sketch → Mirror5 copy 8 (revolve, cut)
    with BuildSketch(Plane(origin=(52.2224, 35.2425, 25.4), x_dir=(0, 0, -1), z_dir=(0, 1, 0))):
        Polygon((0, 0), (0, 9.879838239), (0.59055, 9.525), (0.59055, 0), align=None)
    revolve(axis=Axis((58.5724, 35.2425, 25.4), (-1, 0, 0)), mode=Mode.SUBTRACT)

    # Mirror5 copy 9 sketch → Mirror5 copy 9 (revolve, cut)
    with BuildSketch(Plane(origin=(52.2224, 3.81, 25.4), x_dir=(0, 0, -1), z_dir=(0, 1, 0))):
        Polygon((0, 0), (0, 9.879838239), (0.59055, 9.525), (0.59055, 0), align=None)
    revolve(axis=Axis((58.5724, 3.81, 25.4), (-1, 0, 0)), mode=Mode.SUBTRACT)

    # Mirror5 copy 10 sketch → Mirror5 copy 10 (revolve, cut)
    with BuildSketch(Plane(origin=(52.2224, 3.81, 15.24), x_dir=(0, 0, -1), z_dir=(0, 1, 0))):
        Polygon((0, 0), (0, 9.879838239), (0.59055, 9.525), (0.59055, 0), align=None)
    revolve(axis=Axis((58.5724, 3.81, 15.24), (-1, 0, 0)), mode=Mode.SUBTRACT)

    # Mirror5 copy 11 sketch → Mirror5 copy 11 (revolve, cut)
    with BuildSketch(Plane(origin=(52.2224, 3.81, 5.08), x_dir=(0, 0, -1), z_dir=(0, 1, 0))):
        Polygon((0, 0), (0, 9.879838239), (0.59055, 9.525), (0.59055, 0), align=None)
    revolve(axis=Axis((58.5724, 3.81, 5.08), (-1, 0, 0)), mode=Mode.SUBTRACT)

    # Fillet1
    fillet1_edges = [part.edges().sort_by_distance(p)[0] for p in [
        (-33.1724, 18.7325, -37.0459),
        (-33.1724, 28.8925, -35.5854),
        (-35.6362, 18.7325, -35.5854),
        (-38.1, 10.16, -35.5854),
        (-33.1724, 28.8925, 35.5854),
        (-33.1724, 18.7325, 37.0459),
        (-35.6362, 18.7325, 35.5854),
        (-38.1, 10.16, 35.5854),
        (33.1724, 18.7325, 37.0459),
        (33.1724, 28.8925, 35.5854),
        (35.6362, 18.7325, 35.5854),
        (38.1, 10.16, 35.5854),
        (33.1724, 28.8925, -35.5854),
        (33.1724, 18.7325, -37.0459),
        (35.6362, 18.7325, -35.5854),
        (38.1, 10.16, -35.5854),
    ]]
    fillet(fillet1_edges, radius=FILLET1_R)

    # Sketch13 → Cut-Extrude4 (cut, through all)
    with BuildSketch(Plane.ZY.offset(52.2224)):
        with Locations((0, 38.1)):
            Rectangle(SKETCH13_W, SKETCH13_H)
        with Locations((0, 0.9525)):
            Rectangle(SKETCH13_W, SKETCH13_H)
    cut_extrude4 = extrude(amount=-CUT_EXTRUDE4_DEPTH, mode=Mode.SUBTRACT)

    # LPattern1: Cut-Extrude4 ×4
    with Locations(*[(0, 0, i * LPATTERN1_PITCH) for i in range(1, LPATTERN1_COUNT)]):
        add(cut_extrude4, mode=Mode.SUBTRACT)

    # LPattern1 col: Cut-Extrude4 ×4
    with Locations(*[(0, 0, -i * LPATTERN1_COL_PITCH) for i in range(1, LPATTERN1_COL_COUNT)]):
        add(cut_extrude4, mode=Mode.SUBTRACT)


solid = part.part
